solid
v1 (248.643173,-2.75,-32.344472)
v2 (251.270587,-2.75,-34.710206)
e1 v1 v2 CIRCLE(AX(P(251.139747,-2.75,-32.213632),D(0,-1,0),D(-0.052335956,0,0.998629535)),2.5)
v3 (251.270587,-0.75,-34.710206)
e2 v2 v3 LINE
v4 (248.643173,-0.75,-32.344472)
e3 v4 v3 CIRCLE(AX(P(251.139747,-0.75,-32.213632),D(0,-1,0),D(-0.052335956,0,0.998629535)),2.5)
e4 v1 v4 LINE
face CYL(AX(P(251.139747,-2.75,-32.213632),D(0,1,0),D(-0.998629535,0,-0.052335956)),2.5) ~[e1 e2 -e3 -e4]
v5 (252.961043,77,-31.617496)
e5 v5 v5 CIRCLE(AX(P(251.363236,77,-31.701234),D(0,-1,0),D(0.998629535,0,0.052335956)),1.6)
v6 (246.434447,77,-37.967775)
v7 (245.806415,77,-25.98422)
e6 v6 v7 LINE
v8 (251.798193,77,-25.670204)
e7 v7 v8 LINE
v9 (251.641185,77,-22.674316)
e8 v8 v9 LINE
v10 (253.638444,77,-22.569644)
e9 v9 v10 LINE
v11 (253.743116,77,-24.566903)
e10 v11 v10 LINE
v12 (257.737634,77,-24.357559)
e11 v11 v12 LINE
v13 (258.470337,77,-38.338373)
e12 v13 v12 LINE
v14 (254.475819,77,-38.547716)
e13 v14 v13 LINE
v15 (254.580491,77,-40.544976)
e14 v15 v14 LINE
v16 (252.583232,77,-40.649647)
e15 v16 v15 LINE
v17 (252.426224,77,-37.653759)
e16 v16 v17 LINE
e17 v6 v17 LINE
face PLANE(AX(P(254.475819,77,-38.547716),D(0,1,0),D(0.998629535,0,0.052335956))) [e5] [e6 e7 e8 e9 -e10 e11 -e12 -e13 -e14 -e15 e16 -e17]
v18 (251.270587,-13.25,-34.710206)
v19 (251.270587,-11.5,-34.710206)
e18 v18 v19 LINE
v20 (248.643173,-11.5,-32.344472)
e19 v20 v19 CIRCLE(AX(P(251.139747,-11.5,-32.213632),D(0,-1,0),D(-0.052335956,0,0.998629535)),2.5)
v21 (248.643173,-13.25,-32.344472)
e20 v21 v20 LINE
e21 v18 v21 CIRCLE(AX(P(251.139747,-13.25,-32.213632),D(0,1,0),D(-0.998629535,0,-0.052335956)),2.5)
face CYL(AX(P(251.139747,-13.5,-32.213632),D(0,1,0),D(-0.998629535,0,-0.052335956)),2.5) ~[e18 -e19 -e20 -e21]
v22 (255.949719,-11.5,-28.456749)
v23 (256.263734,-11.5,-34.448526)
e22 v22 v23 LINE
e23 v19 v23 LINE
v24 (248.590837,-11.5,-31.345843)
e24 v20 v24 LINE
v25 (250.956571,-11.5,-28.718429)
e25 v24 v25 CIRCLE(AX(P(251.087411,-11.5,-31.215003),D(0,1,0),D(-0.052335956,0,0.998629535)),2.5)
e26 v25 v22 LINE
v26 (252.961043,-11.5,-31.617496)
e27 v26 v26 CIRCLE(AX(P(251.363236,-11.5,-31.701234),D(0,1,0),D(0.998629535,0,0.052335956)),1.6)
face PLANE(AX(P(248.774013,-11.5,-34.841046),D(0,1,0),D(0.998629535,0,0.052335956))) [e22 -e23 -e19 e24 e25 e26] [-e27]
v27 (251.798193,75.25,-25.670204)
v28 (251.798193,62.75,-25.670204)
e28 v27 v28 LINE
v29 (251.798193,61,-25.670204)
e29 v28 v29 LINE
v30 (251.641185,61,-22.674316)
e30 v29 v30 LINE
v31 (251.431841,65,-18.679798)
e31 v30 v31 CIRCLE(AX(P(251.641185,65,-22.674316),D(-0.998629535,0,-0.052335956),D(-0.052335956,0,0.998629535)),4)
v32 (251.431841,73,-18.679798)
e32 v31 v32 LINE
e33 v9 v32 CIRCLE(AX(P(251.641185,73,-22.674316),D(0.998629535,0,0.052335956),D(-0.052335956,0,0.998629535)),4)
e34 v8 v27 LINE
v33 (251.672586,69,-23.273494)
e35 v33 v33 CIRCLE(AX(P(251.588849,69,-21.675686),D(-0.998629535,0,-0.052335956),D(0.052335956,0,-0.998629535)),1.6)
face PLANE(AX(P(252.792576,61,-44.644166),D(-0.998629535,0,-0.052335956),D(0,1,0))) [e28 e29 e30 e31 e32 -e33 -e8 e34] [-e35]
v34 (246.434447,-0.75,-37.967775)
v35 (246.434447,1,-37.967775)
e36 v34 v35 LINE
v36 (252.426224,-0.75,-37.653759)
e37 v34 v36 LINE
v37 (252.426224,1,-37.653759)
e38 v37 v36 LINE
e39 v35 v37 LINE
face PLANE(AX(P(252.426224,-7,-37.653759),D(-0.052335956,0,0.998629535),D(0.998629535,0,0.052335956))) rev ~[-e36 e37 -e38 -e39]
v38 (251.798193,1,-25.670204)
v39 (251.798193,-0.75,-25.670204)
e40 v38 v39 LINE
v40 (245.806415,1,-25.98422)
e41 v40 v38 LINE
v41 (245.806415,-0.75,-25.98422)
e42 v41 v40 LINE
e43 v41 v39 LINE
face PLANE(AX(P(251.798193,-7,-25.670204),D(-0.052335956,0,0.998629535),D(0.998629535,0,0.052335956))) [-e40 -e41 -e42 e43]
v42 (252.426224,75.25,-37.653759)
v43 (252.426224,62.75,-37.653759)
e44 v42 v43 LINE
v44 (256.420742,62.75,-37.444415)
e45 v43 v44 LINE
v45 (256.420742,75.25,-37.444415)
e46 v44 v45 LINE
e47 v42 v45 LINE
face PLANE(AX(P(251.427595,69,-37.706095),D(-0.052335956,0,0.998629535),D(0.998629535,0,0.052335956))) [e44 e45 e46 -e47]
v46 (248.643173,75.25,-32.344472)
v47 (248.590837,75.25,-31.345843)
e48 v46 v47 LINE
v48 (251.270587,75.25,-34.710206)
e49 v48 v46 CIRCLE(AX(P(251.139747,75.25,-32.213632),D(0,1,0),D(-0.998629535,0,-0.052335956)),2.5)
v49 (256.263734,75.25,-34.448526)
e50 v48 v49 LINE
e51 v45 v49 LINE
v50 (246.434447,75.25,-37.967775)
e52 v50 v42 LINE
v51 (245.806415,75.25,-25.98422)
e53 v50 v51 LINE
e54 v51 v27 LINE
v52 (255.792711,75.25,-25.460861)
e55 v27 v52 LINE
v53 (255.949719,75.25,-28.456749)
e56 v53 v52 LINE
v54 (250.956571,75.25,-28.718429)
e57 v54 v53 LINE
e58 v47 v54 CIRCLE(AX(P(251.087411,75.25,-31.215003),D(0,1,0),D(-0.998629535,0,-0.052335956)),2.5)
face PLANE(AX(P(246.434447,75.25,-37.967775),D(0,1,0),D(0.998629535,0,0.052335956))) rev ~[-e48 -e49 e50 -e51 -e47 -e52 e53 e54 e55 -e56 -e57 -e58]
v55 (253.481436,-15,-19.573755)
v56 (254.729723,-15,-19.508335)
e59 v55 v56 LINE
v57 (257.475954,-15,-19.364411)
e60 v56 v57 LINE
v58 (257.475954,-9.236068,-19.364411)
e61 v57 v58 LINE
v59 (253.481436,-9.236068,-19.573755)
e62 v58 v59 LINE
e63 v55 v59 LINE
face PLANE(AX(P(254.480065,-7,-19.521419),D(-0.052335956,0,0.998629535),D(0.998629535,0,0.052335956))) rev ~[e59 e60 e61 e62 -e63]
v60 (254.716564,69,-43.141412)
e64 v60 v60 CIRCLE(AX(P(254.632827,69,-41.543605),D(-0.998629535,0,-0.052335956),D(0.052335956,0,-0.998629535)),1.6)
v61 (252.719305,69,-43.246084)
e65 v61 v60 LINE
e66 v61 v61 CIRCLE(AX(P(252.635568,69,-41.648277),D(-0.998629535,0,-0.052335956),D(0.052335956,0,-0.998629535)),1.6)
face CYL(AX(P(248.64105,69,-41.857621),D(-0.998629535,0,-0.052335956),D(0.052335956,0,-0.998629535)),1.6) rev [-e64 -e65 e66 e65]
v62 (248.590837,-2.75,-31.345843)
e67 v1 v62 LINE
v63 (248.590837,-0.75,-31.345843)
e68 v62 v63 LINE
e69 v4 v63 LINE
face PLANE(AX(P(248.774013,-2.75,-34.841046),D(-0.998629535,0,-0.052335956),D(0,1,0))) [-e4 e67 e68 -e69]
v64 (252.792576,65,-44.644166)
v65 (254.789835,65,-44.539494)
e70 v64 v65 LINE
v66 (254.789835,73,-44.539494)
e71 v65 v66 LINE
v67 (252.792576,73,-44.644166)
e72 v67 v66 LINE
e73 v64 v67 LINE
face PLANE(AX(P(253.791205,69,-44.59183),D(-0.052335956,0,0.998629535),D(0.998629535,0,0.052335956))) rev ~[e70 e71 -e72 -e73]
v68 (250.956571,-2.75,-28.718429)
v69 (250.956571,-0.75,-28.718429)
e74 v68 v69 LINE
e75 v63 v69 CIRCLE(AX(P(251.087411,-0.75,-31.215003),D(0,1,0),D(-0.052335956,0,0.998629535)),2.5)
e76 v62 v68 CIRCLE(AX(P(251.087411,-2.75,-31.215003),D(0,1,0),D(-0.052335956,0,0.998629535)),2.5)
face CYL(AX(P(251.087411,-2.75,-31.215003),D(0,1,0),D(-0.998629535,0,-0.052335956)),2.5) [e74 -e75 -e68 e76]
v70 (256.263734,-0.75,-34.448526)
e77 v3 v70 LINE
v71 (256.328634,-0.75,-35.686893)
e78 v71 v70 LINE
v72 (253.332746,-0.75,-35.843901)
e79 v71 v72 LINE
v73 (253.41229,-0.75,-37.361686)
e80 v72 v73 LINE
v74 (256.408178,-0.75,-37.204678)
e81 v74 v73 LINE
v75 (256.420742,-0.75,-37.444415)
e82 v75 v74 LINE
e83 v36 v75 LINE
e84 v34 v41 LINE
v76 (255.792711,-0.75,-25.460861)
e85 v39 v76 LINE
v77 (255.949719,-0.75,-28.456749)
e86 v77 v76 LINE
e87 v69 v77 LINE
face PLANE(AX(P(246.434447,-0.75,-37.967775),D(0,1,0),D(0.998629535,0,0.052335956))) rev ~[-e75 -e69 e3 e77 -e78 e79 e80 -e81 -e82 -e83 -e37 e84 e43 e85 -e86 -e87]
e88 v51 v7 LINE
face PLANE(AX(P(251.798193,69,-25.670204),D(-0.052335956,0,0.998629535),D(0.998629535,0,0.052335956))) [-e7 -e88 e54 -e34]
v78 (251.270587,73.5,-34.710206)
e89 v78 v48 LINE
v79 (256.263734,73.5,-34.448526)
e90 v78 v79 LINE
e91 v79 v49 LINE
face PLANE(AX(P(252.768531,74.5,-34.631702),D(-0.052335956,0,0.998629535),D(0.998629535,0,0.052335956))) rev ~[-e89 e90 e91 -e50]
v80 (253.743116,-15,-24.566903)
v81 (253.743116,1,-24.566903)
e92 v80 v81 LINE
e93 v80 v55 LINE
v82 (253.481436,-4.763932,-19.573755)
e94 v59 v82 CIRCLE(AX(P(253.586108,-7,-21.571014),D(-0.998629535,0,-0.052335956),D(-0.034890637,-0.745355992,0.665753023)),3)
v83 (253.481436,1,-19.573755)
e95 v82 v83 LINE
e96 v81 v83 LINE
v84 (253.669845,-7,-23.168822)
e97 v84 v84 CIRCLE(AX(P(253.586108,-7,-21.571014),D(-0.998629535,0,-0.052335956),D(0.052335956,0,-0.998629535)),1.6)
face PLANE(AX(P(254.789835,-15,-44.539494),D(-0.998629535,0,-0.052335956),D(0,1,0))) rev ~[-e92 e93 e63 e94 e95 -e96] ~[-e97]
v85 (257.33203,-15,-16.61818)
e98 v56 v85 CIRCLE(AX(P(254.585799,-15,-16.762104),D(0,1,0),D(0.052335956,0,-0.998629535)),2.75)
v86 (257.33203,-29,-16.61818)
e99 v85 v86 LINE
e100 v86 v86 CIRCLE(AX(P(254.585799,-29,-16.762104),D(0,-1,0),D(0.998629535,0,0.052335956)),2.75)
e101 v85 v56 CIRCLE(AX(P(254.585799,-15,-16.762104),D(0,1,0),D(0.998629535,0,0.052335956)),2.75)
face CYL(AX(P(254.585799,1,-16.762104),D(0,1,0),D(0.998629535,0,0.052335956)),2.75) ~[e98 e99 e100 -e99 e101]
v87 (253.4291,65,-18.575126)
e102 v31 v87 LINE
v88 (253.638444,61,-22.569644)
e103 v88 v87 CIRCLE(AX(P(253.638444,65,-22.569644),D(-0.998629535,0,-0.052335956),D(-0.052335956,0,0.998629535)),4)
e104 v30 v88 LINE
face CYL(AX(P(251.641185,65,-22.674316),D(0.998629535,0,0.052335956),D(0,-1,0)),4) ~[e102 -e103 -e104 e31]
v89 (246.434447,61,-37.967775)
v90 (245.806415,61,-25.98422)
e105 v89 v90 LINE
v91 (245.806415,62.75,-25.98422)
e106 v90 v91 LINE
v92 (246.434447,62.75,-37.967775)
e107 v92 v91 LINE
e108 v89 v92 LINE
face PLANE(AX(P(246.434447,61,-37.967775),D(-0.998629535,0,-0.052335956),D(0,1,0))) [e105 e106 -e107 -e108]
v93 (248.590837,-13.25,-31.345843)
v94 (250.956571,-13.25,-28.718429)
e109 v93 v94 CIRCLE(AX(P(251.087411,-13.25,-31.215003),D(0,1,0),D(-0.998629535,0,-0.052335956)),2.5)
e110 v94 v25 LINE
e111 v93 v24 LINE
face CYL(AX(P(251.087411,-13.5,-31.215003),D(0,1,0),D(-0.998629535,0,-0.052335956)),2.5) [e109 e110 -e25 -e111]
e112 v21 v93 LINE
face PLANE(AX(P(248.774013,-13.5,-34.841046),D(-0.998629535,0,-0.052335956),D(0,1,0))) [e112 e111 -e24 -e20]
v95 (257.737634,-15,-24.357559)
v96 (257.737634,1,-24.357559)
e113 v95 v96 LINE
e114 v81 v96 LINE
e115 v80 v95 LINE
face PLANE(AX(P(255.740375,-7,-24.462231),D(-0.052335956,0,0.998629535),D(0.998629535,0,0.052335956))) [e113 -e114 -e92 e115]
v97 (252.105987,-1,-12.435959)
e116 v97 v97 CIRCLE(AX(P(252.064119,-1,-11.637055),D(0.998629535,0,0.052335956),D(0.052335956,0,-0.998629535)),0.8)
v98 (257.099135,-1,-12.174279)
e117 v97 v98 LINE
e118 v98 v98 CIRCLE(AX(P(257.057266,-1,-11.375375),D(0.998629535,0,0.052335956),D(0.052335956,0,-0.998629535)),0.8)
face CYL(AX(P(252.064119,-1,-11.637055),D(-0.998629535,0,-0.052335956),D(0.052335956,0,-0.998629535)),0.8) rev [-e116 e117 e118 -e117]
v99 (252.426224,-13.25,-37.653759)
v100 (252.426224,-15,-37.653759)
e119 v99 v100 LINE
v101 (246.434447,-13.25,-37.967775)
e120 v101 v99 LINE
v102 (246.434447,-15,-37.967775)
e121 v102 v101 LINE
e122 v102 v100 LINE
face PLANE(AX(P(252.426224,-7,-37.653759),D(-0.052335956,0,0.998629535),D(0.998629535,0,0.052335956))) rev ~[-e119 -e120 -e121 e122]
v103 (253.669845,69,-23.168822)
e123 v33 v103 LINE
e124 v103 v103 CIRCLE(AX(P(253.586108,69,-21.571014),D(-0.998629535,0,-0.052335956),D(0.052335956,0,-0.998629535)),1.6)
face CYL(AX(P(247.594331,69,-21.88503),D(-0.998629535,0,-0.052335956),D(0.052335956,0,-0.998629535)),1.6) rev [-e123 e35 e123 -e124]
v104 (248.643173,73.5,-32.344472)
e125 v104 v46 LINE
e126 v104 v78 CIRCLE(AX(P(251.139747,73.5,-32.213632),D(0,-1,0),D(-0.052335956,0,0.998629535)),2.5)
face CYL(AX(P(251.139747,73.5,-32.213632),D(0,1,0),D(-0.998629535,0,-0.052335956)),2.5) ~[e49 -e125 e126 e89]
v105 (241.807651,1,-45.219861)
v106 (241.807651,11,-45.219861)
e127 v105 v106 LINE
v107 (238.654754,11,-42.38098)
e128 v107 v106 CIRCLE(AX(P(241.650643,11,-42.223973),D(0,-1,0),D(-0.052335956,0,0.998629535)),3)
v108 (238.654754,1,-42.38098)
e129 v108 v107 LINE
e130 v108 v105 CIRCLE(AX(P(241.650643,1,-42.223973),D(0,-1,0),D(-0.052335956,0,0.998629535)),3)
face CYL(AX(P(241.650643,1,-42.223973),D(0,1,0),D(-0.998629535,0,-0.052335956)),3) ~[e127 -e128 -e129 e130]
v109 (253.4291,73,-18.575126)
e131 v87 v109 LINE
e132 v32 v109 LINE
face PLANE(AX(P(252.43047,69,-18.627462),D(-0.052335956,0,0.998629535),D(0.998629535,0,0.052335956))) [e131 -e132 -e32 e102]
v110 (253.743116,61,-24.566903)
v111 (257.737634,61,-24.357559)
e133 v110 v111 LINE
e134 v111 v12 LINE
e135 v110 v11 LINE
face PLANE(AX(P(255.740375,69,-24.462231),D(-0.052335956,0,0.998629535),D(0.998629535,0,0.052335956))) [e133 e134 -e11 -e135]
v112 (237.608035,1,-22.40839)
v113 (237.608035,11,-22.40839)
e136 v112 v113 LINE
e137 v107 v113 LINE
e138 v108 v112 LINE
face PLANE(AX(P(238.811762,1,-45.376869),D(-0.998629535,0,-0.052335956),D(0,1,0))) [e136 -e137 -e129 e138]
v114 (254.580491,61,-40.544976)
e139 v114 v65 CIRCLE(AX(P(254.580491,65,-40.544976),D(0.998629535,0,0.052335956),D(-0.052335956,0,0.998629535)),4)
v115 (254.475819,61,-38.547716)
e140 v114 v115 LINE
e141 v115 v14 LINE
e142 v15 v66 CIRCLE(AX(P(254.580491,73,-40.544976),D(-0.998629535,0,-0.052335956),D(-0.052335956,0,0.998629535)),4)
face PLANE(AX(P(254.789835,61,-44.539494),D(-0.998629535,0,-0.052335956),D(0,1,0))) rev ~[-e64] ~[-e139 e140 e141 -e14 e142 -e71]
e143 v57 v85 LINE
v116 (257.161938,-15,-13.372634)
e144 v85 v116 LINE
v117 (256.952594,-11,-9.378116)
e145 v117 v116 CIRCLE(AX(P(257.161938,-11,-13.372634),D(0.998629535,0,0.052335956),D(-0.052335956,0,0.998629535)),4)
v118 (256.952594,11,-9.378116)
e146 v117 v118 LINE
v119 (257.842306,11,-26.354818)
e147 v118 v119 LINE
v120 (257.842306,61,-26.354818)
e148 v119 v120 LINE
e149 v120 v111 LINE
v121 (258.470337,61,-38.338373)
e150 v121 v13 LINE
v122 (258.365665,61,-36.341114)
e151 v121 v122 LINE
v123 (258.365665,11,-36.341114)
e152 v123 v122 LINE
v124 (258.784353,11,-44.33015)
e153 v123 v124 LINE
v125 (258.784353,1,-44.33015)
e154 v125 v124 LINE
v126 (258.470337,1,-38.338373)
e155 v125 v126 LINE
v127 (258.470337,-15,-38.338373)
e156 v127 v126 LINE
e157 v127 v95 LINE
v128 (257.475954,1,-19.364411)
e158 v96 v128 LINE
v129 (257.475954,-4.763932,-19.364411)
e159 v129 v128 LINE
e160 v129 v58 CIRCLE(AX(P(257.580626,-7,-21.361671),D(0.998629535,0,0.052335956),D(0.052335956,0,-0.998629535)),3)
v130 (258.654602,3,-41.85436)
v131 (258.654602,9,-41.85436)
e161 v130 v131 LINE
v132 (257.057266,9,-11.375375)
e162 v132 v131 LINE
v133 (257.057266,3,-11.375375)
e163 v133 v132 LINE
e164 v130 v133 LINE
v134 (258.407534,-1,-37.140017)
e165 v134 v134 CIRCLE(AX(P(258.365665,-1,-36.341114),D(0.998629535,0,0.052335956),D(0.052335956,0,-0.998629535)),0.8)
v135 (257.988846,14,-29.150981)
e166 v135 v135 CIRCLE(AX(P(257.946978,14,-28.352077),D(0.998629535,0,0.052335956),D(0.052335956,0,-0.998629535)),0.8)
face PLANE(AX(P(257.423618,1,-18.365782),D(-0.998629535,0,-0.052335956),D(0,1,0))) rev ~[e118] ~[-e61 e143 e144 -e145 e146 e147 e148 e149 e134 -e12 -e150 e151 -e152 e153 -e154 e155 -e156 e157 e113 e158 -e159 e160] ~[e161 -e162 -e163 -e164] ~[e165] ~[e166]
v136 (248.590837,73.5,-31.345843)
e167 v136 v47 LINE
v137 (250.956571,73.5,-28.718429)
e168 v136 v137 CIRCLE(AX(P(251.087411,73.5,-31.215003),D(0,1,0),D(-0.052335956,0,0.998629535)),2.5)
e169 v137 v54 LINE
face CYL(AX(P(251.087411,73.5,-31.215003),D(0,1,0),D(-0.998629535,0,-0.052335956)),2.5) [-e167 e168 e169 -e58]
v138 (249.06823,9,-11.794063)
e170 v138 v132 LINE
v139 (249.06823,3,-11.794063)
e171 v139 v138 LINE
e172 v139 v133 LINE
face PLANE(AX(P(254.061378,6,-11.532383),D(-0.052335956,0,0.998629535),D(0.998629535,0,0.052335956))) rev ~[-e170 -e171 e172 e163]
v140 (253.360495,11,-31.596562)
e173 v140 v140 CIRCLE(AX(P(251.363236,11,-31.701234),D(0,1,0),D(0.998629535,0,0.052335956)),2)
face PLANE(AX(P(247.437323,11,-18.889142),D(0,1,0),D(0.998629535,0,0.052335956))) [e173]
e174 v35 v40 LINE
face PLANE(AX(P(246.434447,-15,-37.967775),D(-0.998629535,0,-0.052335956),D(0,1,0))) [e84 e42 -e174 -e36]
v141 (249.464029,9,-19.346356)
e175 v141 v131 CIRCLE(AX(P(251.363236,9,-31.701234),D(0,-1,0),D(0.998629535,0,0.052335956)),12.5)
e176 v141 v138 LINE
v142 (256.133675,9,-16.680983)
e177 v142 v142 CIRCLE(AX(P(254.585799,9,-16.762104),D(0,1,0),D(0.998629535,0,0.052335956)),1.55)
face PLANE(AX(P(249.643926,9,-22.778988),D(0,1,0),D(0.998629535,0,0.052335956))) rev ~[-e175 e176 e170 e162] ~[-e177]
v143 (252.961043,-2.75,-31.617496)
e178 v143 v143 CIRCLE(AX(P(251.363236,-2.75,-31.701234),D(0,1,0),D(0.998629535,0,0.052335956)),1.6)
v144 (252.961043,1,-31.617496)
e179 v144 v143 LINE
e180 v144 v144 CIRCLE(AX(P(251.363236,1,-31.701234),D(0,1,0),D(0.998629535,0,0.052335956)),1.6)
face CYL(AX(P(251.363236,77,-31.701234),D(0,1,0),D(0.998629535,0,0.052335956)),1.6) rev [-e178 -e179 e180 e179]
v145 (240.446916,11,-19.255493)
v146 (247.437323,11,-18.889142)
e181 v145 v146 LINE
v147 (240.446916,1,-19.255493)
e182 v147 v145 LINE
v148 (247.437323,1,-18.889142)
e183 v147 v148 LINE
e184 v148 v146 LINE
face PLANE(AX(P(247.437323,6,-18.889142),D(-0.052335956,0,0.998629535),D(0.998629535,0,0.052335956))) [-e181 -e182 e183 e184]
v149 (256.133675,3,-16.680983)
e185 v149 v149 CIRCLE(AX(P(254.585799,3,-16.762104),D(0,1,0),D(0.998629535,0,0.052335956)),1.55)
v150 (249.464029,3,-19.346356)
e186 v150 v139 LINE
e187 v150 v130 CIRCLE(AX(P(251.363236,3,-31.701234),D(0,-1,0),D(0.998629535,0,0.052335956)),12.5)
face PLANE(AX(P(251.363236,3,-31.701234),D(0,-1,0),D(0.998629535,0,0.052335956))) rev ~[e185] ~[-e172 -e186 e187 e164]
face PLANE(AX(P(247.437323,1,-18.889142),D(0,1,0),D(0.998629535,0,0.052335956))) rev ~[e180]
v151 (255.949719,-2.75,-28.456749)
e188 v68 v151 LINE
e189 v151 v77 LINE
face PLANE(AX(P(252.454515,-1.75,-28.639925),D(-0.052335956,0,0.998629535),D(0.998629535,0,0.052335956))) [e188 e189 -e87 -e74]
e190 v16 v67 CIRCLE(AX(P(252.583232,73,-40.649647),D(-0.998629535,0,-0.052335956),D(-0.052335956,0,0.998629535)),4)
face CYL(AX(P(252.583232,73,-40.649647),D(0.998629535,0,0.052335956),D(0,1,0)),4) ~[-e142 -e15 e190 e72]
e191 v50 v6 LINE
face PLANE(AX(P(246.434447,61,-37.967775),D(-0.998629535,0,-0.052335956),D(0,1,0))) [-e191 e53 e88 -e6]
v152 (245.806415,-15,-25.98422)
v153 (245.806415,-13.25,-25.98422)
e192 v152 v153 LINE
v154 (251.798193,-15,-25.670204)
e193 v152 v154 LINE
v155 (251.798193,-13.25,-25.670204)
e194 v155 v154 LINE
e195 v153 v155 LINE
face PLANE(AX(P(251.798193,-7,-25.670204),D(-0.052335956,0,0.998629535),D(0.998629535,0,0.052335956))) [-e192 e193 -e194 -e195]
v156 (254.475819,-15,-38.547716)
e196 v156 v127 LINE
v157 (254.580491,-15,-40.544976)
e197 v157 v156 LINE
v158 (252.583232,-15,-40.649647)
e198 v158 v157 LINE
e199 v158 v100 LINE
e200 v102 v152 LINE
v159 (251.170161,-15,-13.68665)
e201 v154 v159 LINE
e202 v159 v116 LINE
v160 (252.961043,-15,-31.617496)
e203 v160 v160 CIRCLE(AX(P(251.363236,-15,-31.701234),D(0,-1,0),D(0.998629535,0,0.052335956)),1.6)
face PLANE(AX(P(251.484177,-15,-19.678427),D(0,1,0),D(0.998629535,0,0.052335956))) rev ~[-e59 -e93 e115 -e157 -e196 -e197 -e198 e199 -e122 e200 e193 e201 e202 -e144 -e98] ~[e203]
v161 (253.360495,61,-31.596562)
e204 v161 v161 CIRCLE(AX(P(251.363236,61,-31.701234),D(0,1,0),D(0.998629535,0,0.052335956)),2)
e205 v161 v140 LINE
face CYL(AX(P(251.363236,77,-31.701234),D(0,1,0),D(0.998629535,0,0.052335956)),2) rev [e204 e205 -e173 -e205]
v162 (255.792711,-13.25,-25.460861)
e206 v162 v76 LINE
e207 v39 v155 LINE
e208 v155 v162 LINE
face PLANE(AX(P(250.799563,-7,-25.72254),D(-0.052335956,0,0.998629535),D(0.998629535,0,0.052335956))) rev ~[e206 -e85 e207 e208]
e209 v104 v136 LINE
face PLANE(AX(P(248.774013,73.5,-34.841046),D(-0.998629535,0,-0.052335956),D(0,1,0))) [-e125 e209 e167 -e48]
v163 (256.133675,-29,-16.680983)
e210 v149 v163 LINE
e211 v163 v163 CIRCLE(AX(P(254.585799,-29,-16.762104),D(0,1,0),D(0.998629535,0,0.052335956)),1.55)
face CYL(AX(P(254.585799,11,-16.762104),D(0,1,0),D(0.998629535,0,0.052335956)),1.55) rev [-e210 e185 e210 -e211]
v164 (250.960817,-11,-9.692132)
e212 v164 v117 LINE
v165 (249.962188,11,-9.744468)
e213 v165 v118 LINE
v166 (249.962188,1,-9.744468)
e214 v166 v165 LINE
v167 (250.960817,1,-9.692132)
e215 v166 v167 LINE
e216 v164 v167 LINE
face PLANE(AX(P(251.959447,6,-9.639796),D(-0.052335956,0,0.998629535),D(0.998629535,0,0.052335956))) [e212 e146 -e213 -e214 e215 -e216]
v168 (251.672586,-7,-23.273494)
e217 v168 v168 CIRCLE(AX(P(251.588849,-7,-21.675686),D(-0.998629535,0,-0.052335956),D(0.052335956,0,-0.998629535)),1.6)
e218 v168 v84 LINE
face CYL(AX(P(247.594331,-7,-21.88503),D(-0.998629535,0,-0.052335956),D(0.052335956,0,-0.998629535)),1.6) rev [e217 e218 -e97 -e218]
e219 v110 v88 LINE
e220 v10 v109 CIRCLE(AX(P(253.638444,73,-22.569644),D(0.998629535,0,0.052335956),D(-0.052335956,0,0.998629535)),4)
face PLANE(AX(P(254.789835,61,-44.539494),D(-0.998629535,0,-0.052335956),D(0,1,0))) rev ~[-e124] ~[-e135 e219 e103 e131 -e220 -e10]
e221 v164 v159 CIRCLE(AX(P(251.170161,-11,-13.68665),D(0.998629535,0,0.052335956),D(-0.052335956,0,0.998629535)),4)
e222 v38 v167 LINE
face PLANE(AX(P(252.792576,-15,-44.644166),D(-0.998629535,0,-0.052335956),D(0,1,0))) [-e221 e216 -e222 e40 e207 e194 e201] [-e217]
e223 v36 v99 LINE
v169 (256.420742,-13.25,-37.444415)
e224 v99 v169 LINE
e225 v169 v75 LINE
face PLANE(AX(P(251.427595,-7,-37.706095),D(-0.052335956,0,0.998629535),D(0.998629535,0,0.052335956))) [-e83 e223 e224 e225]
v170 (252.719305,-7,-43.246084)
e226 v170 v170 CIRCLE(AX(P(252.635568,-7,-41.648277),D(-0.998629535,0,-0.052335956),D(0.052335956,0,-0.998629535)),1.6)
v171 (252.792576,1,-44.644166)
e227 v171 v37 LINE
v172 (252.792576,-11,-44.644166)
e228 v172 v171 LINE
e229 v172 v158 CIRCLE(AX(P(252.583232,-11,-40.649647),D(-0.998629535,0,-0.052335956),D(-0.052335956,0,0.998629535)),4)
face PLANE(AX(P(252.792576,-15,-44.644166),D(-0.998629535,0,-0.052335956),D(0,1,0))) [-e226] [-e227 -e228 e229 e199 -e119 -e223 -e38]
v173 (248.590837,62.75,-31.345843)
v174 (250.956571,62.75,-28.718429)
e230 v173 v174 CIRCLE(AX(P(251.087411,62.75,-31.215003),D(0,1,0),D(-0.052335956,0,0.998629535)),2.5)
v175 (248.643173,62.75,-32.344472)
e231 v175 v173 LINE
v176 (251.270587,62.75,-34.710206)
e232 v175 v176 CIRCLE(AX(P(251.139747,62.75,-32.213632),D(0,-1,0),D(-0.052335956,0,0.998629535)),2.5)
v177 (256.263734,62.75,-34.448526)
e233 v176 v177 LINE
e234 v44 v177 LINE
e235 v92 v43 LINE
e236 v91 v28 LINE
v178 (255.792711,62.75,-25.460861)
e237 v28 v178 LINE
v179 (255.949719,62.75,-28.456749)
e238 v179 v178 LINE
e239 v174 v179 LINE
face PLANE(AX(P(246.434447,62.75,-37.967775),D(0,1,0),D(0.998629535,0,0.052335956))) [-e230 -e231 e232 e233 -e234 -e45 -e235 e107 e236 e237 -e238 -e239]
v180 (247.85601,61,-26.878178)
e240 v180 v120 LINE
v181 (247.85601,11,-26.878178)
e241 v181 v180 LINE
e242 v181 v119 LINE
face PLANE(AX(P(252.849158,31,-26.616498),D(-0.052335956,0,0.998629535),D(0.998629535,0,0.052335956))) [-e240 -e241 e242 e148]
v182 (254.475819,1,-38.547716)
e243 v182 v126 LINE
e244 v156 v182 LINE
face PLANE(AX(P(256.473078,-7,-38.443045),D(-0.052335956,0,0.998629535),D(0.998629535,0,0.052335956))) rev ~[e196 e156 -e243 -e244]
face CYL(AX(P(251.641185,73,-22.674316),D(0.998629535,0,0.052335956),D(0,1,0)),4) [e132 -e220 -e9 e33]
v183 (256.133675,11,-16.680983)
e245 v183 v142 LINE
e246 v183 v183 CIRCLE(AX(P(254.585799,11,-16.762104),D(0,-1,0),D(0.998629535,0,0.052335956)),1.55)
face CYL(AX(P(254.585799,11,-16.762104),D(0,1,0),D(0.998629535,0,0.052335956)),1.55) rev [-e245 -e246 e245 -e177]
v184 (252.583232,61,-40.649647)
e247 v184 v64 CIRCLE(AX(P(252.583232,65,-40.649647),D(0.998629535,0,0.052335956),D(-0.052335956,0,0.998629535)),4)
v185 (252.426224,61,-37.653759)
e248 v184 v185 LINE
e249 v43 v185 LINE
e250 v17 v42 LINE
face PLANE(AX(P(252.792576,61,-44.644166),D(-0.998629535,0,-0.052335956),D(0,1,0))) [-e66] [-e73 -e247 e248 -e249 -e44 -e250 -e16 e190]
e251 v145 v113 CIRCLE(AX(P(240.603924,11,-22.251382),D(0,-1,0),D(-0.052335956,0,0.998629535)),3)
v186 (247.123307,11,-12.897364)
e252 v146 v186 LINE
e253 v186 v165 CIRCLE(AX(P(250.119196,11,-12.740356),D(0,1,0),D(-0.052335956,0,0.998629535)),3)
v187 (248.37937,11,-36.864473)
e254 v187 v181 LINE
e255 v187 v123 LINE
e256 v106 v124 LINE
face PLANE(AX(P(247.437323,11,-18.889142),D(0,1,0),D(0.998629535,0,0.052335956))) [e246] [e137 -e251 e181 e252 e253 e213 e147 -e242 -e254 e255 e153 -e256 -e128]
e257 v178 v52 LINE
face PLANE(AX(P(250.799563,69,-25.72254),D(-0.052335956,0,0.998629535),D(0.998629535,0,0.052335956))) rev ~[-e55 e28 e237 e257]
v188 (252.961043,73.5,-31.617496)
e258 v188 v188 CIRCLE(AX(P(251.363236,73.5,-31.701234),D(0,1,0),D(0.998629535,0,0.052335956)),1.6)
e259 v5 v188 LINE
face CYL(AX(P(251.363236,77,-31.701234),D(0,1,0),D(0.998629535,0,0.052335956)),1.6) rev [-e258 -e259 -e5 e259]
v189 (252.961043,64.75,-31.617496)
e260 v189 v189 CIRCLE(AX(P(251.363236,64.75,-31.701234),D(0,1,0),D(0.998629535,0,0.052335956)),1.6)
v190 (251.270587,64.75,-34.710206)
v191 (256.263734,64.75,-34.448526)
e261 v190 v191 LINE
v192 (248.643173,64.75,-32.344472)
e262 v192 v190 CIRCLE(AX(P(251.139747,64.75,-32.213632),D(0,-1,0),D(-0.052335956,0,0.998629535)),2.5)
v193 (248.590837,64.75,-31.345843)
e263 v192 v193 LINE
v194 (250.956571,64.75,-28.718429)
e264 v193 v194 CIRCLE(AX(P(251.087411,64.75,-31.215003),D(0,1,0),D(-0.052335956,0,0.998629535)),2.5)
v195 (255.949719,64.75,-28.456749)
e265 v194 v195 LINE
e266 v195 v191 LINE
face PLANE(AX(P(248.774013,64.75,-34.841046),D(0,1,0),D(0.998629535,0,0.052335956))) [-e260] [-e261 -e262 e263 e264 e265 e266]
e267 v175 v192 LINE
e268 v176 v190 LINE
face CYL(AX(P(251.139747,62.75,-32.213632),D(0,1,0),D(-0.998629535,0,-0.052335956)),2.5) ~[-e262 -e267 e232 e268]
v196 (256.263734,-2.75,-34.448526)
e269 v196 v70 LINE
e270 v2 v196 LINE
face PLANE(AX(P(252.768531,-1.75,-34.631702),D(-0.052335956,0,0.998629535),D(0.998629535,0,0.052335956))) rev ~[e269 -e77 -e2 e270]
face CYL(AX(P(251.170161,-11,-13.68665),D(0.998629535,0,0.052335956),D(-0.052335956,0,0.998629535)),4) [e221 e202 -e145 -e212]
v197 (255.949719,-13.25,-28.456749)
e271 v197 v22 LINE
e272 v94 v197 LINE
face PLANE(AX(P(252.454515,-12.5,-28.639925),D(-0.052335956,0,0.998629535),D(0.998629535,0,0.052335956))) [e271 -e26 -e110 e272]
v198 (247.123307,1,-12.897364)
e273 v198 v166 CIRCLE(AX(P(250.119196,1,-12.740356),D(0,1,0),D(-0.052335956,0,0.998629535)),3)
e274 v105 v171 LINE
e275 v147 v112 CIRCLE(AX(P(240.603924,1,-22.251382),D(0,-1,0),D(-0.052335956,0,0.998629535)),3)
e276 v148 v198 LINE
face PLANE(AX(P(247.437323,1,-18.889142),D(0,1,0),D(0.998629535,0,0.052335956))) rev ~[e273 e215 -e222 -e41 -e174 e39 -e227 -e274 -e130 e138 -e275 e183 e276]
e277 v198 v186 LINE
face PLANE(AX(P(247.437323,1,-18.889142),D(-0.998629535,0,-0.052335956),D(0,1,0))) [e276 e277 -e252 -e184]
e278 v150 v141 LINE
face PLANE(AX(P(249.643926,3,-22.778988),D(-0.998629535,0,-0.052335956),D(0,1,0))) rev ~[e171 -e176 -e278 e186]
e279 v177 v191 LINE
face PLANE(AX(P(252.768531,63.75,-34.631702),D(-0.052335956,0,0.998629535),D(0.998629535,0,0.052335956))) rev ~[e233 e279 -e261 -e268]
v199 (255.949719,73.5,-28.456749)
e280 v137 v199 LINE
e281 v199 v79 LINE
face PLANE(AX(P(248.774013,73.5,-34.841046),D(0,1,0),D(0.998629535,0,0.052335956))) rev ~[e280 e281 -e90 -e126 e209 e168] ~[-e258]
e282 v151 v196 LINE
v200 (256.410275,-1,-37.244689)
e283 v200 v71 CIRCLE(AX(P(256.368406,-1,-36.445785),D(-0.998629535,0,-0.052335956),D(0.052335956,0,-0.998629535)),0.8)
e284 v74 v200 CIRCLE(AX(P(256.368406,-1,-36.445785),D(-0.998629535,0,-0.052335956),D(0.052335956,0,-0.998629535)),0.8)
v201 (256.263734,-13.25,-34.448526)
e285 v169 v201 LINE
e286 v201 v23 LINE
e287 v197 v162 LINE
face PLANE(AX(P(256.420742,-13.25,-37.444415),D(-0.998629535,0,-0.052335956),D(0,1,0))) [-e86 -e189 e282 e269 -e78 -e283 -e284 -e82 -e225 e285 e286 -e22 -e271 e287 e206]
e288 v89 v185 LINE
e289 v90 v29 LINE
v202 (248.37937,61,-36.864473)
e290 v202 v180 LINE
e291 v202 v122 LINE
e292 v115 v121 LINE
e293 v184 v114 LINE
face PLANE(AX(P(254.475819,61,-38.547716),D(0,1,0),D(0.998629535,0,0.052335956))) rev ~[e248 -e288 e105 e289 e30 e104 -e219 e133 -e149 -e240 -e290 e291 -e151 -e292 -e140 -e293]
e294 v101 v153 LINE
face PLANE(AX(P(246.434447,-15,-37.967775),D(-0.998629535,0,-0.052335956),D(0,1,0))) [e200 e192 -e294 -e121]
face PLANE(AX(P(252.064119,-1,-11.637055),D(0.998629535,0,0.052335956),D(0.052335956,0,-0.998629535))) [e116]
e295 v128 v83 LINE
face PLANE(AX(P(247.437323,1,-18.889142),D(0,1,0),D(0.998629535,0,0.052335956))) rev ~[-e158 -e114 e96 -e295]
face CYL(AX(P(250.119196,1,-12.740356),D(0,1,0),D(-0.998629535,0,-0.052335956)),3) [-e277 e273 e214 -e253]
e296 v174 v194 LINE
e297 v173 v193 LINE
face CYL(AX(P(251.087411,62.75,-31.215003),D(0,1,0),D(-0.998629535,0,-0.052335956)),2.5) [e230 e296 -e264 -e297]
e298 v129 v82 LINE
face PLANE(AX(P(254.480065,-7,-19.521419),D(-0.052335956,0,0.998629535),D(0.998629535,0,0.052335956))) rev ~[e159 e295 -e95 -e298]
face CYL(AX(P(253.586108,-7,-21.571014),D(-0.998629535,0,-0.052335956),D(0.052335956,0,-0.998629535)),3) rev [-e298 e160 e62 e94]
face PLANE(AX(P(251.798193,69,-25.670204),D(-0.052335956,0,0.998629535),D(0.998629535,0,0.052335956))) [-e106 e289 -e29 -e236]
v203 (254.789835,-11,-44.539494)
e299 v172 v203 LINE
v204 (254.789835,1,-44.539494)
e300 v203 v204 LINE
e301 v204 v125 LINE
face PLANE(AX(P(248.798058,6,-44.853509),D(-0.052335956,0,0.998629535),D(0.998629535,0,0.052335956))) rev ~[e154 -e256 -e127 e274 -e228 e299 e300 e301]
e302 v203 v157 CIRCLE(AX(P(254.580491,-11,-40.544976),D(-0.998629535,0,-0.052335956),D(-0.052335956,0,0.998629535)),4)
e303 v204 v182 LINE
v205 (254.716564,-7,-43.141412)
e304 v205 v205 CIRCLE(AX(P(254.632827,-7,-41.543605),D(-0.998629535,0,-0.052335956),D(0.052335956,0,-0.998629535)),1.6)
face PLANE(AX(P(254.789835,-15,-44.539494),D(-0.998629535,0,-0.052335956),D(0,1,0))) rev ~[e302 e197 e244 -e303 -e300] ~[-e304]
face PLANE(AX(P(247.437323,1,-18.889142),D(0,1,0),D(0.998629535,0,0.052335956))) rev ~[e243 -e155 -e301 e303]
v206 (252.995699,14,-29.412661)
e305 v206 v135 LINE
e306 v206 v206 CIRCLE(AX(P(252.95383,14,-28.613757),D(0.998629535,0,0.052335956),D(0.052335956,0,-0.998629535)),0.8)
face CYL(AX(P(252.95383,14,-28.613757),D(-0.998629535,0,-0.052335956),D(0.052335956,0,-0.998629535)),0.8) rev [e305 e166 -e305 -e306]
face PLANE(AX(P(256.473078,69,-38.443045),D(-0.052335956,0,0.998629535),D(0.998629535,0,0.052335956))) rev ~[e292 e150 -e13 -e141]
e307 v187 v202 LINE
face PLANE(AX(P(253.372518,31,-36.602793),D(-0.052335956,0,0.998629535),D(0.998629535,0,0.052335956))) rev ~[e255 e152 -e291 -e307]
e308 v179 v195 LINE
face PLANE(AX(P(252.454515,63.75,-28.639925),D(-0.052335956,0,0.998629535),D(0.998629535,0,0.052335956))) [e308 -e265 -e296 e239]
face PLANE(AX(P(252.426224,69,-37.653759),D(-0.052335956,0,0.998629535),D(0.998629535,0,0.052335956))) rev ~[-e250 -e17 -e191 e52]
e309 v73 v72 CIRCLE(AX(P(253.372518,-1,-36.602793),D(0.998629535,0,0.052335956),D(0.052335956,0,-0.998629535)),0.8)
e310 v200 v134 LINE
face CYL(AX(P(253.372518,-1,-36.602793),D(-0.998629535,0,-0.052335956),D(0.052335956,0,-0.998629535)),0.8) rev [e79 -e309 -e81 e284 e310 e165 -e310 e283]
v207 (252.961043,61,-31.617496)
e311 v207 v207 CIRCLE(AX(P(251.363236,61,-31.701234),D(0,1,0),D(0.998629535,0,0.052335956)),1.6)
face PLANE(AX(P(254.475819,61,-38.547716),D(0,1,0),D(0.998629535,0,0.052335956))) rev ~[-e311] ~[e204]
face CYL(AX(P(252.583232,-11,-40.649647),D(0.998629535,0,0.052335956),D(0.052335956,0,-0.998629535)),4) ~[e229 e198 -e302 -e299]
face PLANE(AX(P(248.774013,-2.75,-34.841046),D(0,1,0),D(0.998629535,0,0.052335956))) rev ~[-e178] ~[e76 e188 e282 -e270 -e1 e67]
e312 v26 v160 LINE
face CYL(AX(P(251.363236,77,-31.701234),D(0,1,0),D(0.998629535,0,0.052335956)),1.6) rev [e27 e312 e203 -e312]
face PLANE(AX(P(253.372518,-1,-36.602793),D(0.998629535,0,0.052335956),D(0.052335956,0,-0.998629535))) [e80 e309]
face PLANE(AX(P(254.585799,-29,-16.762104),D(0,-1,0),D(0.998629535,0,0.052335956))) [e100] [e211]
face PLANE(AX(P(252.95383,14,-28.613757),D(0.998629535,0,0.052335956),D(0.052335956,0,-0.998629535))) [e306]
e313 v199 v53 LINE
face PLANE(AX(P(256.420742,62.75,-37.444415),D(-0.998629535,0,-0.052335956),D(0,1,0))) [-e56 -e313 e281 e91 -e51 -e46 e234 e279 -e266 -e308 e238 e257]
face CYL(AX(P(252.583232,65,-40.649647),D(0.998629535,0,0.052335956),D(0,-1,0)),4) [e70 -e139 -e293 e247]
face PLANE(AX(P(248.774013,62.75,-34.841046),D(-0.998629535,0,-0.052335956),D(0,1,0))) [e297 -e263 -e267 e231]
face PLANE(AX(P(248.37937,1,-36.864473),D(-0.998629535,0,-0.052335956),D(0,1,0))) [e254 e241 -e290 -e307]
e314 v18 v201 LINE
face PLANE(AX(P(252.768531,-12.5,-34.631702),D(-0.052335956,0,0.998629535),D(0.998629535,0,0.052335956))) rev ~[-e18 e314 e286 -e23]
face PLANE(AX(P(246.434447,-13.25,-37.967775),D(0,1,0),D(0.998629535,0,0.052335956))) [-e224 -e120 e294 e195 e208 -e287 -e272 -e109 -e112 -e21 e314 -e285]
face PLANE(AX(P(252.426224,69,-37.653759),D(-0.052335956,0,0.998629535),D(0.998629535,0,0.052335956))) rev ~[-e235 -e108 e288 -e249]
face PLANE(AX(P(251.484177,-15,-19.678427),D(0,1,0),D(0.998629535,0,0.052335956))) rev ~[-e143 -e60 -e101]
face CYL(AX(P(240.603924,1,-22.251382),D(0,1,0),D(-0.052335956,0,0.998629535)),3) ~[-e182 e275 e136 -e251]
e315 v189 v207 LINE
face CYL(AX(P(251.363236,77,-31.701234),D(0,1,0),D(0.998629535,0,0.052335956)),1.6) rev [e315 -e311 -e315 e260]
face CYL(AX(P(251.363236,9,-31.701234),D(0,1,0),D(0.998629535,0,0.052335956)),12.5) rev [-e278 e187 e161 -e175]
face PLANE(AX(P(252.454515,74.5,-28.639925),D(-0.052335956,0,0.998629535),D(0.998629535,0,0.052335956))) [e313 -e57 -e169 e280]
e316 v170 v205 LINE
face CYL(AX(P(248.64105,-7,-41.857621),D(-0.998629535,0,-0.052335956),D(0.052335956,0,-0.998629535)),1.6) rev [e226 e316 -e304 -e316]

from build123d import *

# Parameters (mm, degrees)
CYLINDER217_R             = 0.8
CYLINDER217_DEPTH         = 5
CYLINDER218_R             = 0.8
CYLINDER218_DEPTH         = 5
CYLINDER216_R             = 0.8
CYLINDER216_DEPTH         = 5
CYLINDER215_R             = 1.55
CYLINDER215_DEPTH         = 47
CYLINDER214_R             = 3
CYLINDER214_DEPTH         = 4
BOX140_W                  = 6
BOX140_H                  = 16
BOX140_DEPTH              = 10
BOX143_W                  = 10
BOX143_H                  = 6
BOX143_DEPTH              = 11
BOX142_W                  = 10
BOX142_H                  = 10
BOX142_DEPTH              = 9
CYLINDER213_R             = 12.5
CYLINDER213_DEPTH         = 6
BOX141_W                  = 20
BOX141_H                  = 10
BOX141_DEPTH              = 26
CYLINDER212_R             = 2.75
CYLINDER212_DEPTH         = 30
BOX139_W                  = 10
BOX139_H                  = 10
BOX139_DEPTH              = 10
CYLINDER211_R             = 2
CYLINDER211_DEPTH         = 92
BOX138_W                  = 10
BOX138_H                  = 60
BOX138_DEPTH              = 10
CYLINDER210_R             = 1.6
CYLINDER210_DEPTH         = 10
CYLINDER209_R             = 1.6
CYLINDER209_DEPTH         = 10
CYLINDER208_R             = 1.6
CYLINDER208_DEPTH         = 10
CYLINDER207_R             = 1.6
CYLINDER207_DEPTH         = 10
CYLINDER206_R             = 1.6
CYLINDER206_DEPTH         = 92
BOX133_W                  = 10
BOX133_H                  = 12.5
BOX133_DEPTH              = 12
BOX131_W                  = 2
BOX131_H                  = 16
BOX131_DEPTH              = 26
BOX132_W                  = 4
BOX132_H                  = 16
BOX132_DEPTH              = 14
BOX130_W                  = 12
BOX130_H                  = 16
BOX130_DEPTH              = 12
BOX135_W                  = 8
BOX135_H                  = 2
BOX135_DEPTH              = 6
BOX134_W                  = 8
BOX134_H                  = 2
BOX134_DEPTH              = 6
FILLET057_R               = 2.5
BOX137_W                  = 8
BOX137_H                  = 2
BOX137_DEPTH              = 6
BOX136_W                  = 8
BOX136_H                  = 2
BOX136_DEPTH              = 6
FILLET058_R               = 2.5
BOX129_W                  = 10
BOX129_H                  = 12.5
BOX129_DEPTH              = 12
BOX127_W                  = 2
BOX127_H                  = 16
BOX127_DEPTH              = 26
BOX128_W                  = 4
BOX128_H                  = 16
BOX128_DEPTH              = 14
BOX126_W                  = 12
BOX126_H                  = 16
BOX126_DEPTH              = 12
FILLET056_R               = 3
FILLET055_R               = 4
FILLET055_PLACEMENT_ANGLE = 3


with BuildPart() as cylinder512:
    # Cylinder217 → Cylinder217 (new body)
    with BuildSketch(Plane(origin=(331, 23, -46), x_dir=(0, 0, -1), z_dir=(1, 0, 0))):
        Circle(CYLINDER217_R)
    extrude(amount=CYLINDER217_DEPTH)


with BuildPart() as cylinder513:
    # Cylinder218 → Cylinder218 (new body)
    with BuildSketch(Plane(origin=(331, 8, -29), x_dir=(0, 0, -1), z_dir=(1, 0, 0))):
        Circle(CYLINDER218_R)
    extrude(amount=CYLINDER218_DEPTH)


with BuildPart() as fusion188:
    # Cylinder216 → Cylinder216 (new body)
    with BuildSketch(Plane(origin=(331, 8, -54), x_dir=(0, 0, -1), z_dir=(1, 0, 0))):
        Circle(CYLINDER216_R)
    extrude(amount=CYLINDER216_DEPTH)

    # Fusion188: union Cylinder512, Cylinder513
    add(cylinder512.part)
    add(cylinder513.part)


with BuildPart() as cylinder509:
    # Cylinder215 → Cylinder215 (new body)
    with BuildSketch(Plane(origin=(333.25, 20, -34.25), x_dir=(1, 0, 0), z_dir=(0, -1, 0))):
        Circle(CYLINDER215_R)
    extrude(amount=CYLINDER215_DEPTH)


with BuildPart() as cylinder510:
    # Cylinder214 → Cylinder214 (new body)
    with BuildSketch(Plane(origin=(332, 2, -39), x_dir=(0, 0, -1), z_dir=(1, 0, 0))):
        Circle(CYLINDER214_R)
    extrude(amount=CYLINDER214_DEPTH)


with BuildPart() as cube247:
    # Box140 → Box140 (new body)
    with BuildSketch(Plane(origin=(330, -6, -37), x_dir=(1, 0, 0), z_dir=(0, 0, 1))):
        with Locations((3, 8)):
            Rectangle(BOX140_W, BOX140_H)
    extrude(amount=BOX140_DEPTH)


with BuildPart() as cube246:
    # Box143 → Box143 (new body)
    with BuildSketch(Plane(origin=(328, 12, -40), x_dir=(1, 0, 0), z_dir=(0, 0, 1))):
        with Locations((5, 3)):
            Rectangle(BOX143_W, BOX143_H)
    extrude(amount=BOX143_DEPTH)


with BuildPart() as cube245:
    # Box142 → Box142 (new body)
    with BuildSketch(Plane(origin=(326, 10, -36), x_dir=(1, 0, 0), z_dir=(0, 0, 1))):
        with Locations((5, 5)):
            Rectangle(BOX142_W, BOX142_H)
    extrude(amount=BOX142_DEPTH)


with BuildPart() as cylinder507:
    # Cylinder213 → Cylinder213 (new body)
    with BuildSketch(Plane(origin=(329.25, 18, -49), x_dir=(1, 0, 0), z_dir=(0, -1, 0))):
        Circle(CYLINDER213_R)
    extrude(amount=CYLINDER213_DEPTH)


with BuildPart() as cut151:
    # Box141 → Box141 (new body)
    with BuildSketch(Plane(origin=(316, 10, -62), x_dir=(1, 0, 0), z_dir=(0, 0, 1))):
        with Locations((10, 5)):
            Rectangle(BOX141_W, BOX141_H)
    extrude(amount=BOX141_DEPTH)

    # Cut152: cut Cylinder507
    add(cylinder507.part, mode=Mode.SUBTRACT)

    # Fusion187: union Cube245
    add(cube245.part)

    # Cut151: cut Cube246
    add(cube246.part, mode=Mode.SUBTRACT)


with BuildPart() as cut149:
    # Cylinder212 → Cylinder212 (new body)
    with BuildSketch(Plane(origin=(333.25, 10, -34.25), x_dir=(1, 0, 0), z_dir=(0, -1, 0))):
        Circle(CYLINDER212_R)
    extrude(amount=CYLINDER212_DEPTH)

    # Fusion186: union Cube247, Cut151
    add(cube247.part)
    add(cut151.part)

    # Cut150: cut Cylinder510
    add(cylinder510.part, mode=Mode.SUBTRACT)

    # Cut149: cut Cylinder509
    add(cylinder509.part, mode=Mode.SUBTRACT)


with BuildPart() as cube238:
    # Box139 → Box139 (new body)
    with BuildSketch(Plane(origin=(326, 10, -54), x_dir=(1, 0, 0), z_dir=(0, 0, 1))):
        with Locations((5, 5)):
            Rectangle(BOX139_W, BOX139_H)
    extrude(amount=BOX139_DEPTH)


with BuildPart() as cylinder499:
    # Cylinder211 → Cylinder211 (new body)
    with BuildSketch(Plane(origin=(329.25, 86, -49), x_dir=(1, 0, 0), z_dir=(0, -1, 0))):
        Circle(CYLINDER211_R)
    extrude(amount=CYLINDER211_DEPTH)


with BuildPart() as cut148:
    # Box138 → Box138 (new body)
    with BuildSketch(Plane(origin=(326, 10, -54), x_dir=(1, 0, 0), z_dir=(0, 0, 1))):
        with Locations((5, 30)):
            Rectangle(BOX138_W, BOX138_H)
    extrude(amount=BOX138_DEPTH)

    # Cut148: cut Cylinder499
    add(cylinder499.part, mode=Mode.SUBTRACT)


with BuildPart() as cylinder503:
    # Cylinder210 → Cylinder210 (new body)
    with BuildSketch(Plane(origin=(323, 0, -39), x_dir=(0, 0, -1), z_dir=(1, 0, 0))):
        Circle(CYLINDER210_R)
    extrude(amount=CYLINDER210_DEPTH)


with BuildPart() as fusion185:
    # Cylinder209 → Cylinder209 (new body)
    with BuildSketch(Plane(origin=(323, 0, -59), x_dir=(0, 0, -1), z_dir=(1, 0, 0))):
        Circle(CYLINDER209_R)
    extrude(amount=CYLINDER209_DEPTH)

    # Fusion185: union Cylinder503
    add(cylinder503.part)


with BuildPart() as fusion185_1:
    # Fusion185 placement: moved
    add(fusion185.part.moved(Location((3, 78, 0))))


with BuildPart() as cylinder500:
    # Cylinder208 → Cylinder208 (new body)
    with BuildSketch(Plane(origin=(323, 0, -39), x_dir=(0, 0, -1), z_dir=(1, 0, 0))):
        Circle(CYLINDER208_R)
    extrude(amount=CYLINDER208_DEPTH)


with BuildPart() as fusion183:
    # Cylinder207 → Cylinder207 (new body)
    with BuildSketch(Plane(origin=(323, 0, -59), x_dir=(0, 0, -1), z_dir=(1, 0, 0))):
        Circle(CYLINDER207_R)
    extrude(amount=CYLINDER207_DEPTH)

    # Fusion184: union Cylinder500
    add(cylinder500.part)


with BuildPart() as fusion183_1:
    # Fusion184 placement: moved
    add(fusion183.part.moved(Location((3, 2, 0))))

    # Fusion183: union Fusion185
    add(fusion185_1.part)


with BuildPart() as cylinder498:
    # Cylinder206 → Cylinder206 (new body)
    with BuildSketch(Plane(origin=(329.25, 86, -49), x_dir=(1, 0, 0), z_dir=(0, -1, 0))):
        Circle(CYLINDER206_R)
    extrude(amount=CYLINDER206_DEPTH)


with BuildPart() as cube227:
    # Box133 → Box133 (new body)
    with BuildSketch(Plane(origin=(324, -4.25, -55), x_dir=(1, 0, 0), z_dir=(0, 0, 1))):
        with Locations((5, 6.25)):
            Rectangle(BOX133_W, BOX133_H)
    extrude(amount=BOX133_DEPTH)


with BuildPart() as cube225:
    # Box131 → Box131 (new body)
    with BuildSketch(Plane(origin=(330, -6, -62), x_dir=(1, 0, 0), z_dir=(0, 0, 1))):
        with Locations((1, 8)):
            Rectangle(BOX131_W, BOX131_H)
    extrude(amount=BOX131_DEPTH)


with BuildPart() as cube226:
    # Box132 → Box132 (new body)
    with BuildSketch(Plane(origin=(332, -6, -56), x_dir=(1, 0, 0), z_dir=(0, 0, 1))):
        with Locations((2, 8)):
            Rectangle(BOX132_W, BOX132_H)
    extrude(amount=BOX132_DEPTH)


with BuildPart() as cut147:
    # Box130 → Box130 (new body)
    with BuildSketch(Plane(origin=(324, -6, -55), x_dir=(1, 0, 0), z_dir=(0, 0, 1))):
        with Locations((6, 8)):
            Rectangle(BOX130_W, BOX130_H)
    extrude(amount=BOX130_DEPTH)

    # Fusion180: union Cube225, Cube226
    add(cube225.part)
    add(cube226.part)

    # Cut147: cut Cube227
    add(cube227.part, mode=Mode.SUBTRACT)


with BuildPart() as cut147_1:
    # Cut147 placement: moved
    add(cut147.part.moved(Location((0, 76, 0))))


with BuildPart() as cube234:
    # Box135 → Box135 (new body)
    with BuildSketch(Plane(origin=(328, -4.5, -52), x_dir=(1, 0, 0), z_dir=(0, 0, 1))):
        with Locations((4, 1)):
            Rectangle(BOX135_W, BOX135_H)
    extrude(amount=BOX135_DEPTH)


with BuildPart() as fillet057:
    # Box134 → Box134 (new body)
    with BuildSketch(Plane(origin=(328, 6.25, -52), x_dir=(1, 0, 0), z_dir=(0, 0, 1))):
        with Locations((4, 1)):
            Rectangle(BOX134_W, BOX134_H)
    extrude(amount=BOX134_DEPTH)

    # Fusion181: union Cube234
    add(cube234.part)

    # Fillet057
    fillet057_edges = [fillet057.edges().sort_by_distance(p)[0] for p in [
        (328, 7.25, -46),
        (328, 7.25, -52),
        (328, -3.5, -46),
        (328, -3.5, -52),
    ]]
    fillet(fillet057_edges, radius=FILLET057_R)


with BuildPart() as fillet057_1:
    # Fillet057 placement: moved
    add(fillet057.part.moved(Location((-1.5, 0, 0))))


with BuildPart() as cube235:
    # Box137 → Box137 (new body)
    with BuildSketch(Plane(origin=(328, -4.5, -52), x_dir=(1, 0, 0), z_dir=(0, 0, 1))):
        with Locations((4, 1)):
            Rectangle(BOX137_W, BOX137_H)
    extrude(amount=BOX137_DEPTH)


with BuildPart() as fillet058:
    # Box136 → Box136 (new body)
    with BuildSketch(Plane(origin=(328, 6.25, -52), x_dir=(1, 0, 0), z_dir=(0, 0, 1))):
        with Locations((4, 1)):
            Rectangle(BOX136_W, BOX136_H)
    extrude(amount=BOX136_DEPTH)

    # Fusion182: union Cube235
    add(cube235.part)

    # Fillet058
    fillet058_edges = [fillet058.edges().sort_by_distance(p)[0] for p in [
        (328, 7.25, -46),
        (328, 7.25, -52),
        (328, -3.5, -46),
        (328, -3.5, -52),
    ]]
    fillet(fillet058_edges, radius=FILLET058_R)


with BuildPart() as fillet058_1:
    # Fillet058 placement: moved
    add(fillet058.part.moved(Location((-1.5, 76.25, 0))))


with BuildPart() as cube221:
    # Box129 → Box129 (new body)
    with BuildSketch(Plane(origin=(324, -4.25, -55), x_dir=(1, 0, 0), z_dir=(0, 0, 1))):
        with Locations((5, 6.25)):
            Rectangle(BOX129_W, BOX129_H)
    extrude(amount=BOX129_DEPTH)


with BuildPart() as cube223:
    # Box127 → Box127 (new body)
    with BuildSketch(Plane(origin=(330, -6, -62), x_dir=(1, 0, 0), z_dir=(0, 0, 1))):
        with Locations((1, 8)):
            Rectangle(BOX127_W, BOX127_H)
    extrude(amount=BOX127_DEPTH)


with BuildPart() as cube224:
    # Box128 → Box128 (new body)
    with BuildSketch(Plane(origin=(332, -6, -56), x_dir=(1, 0, 0), z_dir=(0, 0, 1))):
        with Locations((2, 8)):
            Rectangle(BOX128_W, BOX128_H)
    extrude(amount=BOX128_DEPTH)


with BuildPart() as supports_reductor_frame:
    # Box126 → Box126 (new body)
    with BuildSketch(Plane(origin=(324, -6, -55), x_dir=(1, 0, 0), z_dir=(0, 0, 1))):
        with Locations((6, 8)):
            Rectangle(BOX126_W, BOX126_H)
    extrude(amount=BOX126_DEPTH)

    # Fusion179: union Cube223, Cube224
    add(cube223.part)
    add(cube224.part)

    # Cut146: cut Cube221
    add(cube221.part, mode=Mode.SUBTRACT)

    # Fusion178: union Cut147, Fillet057, Fillet058
    add(cut147_1.part)
    add(fillet057_1.part)
    add(fillet058_1.part)

    # Cut145: cut Cylinder498
    add(cylinder498.part, mode=Mode.SUBTRACT)

    # Cut144: cut Fusion183
    add(fusion183_1.part, mode=Mode.SUBTRACT)

    # Fusion177: union Cut148
    add(cut148.part)

    # Cut143: cut Cube238
    add(cube238.part, mode=Mode.SUBTRACT)

    # Fusion176: union Cut149
    add(cut149.part)

    # Cut142: cut Fusion188
    add(fusion188.part, mode=Mode.SUBTRACT)

    # Fillet056
    fillet056_edges = [supports_reductor_frame.edges().sort_by_distance(p)[0] for p in [
        (316, 15, -62),
        (326, 15, -27),
        (316, 15, -36),
    ]]
    fillet(fillet056_edges, radius=FILLET056_R)

    # Fillet055
    fillet055_edges = [supports_reductor_frame.edges().sort_by_distance(p)[0] for p in [
        (331, -6, -62),
        (333, -6, -27),
        (331, 70, -36),
        (331, 70, -62),
        (331, 86, -62),
        (331, 86, -36),
    ]]
    fillet(fillet055_edges, radius=FILLET055_R)


with BuildPart() as supports_reductor_frame_1:
    # Fillet055 placement: moved
    add(supports_reductor_frame.part.moved(Location((-80, -9, 0))).rotate(Axis((-80, -9, 0), (0, -1, 0)), FILLET055_PLACEMENT_ANGLE))


solid = supports_reductor_frame_1.part
